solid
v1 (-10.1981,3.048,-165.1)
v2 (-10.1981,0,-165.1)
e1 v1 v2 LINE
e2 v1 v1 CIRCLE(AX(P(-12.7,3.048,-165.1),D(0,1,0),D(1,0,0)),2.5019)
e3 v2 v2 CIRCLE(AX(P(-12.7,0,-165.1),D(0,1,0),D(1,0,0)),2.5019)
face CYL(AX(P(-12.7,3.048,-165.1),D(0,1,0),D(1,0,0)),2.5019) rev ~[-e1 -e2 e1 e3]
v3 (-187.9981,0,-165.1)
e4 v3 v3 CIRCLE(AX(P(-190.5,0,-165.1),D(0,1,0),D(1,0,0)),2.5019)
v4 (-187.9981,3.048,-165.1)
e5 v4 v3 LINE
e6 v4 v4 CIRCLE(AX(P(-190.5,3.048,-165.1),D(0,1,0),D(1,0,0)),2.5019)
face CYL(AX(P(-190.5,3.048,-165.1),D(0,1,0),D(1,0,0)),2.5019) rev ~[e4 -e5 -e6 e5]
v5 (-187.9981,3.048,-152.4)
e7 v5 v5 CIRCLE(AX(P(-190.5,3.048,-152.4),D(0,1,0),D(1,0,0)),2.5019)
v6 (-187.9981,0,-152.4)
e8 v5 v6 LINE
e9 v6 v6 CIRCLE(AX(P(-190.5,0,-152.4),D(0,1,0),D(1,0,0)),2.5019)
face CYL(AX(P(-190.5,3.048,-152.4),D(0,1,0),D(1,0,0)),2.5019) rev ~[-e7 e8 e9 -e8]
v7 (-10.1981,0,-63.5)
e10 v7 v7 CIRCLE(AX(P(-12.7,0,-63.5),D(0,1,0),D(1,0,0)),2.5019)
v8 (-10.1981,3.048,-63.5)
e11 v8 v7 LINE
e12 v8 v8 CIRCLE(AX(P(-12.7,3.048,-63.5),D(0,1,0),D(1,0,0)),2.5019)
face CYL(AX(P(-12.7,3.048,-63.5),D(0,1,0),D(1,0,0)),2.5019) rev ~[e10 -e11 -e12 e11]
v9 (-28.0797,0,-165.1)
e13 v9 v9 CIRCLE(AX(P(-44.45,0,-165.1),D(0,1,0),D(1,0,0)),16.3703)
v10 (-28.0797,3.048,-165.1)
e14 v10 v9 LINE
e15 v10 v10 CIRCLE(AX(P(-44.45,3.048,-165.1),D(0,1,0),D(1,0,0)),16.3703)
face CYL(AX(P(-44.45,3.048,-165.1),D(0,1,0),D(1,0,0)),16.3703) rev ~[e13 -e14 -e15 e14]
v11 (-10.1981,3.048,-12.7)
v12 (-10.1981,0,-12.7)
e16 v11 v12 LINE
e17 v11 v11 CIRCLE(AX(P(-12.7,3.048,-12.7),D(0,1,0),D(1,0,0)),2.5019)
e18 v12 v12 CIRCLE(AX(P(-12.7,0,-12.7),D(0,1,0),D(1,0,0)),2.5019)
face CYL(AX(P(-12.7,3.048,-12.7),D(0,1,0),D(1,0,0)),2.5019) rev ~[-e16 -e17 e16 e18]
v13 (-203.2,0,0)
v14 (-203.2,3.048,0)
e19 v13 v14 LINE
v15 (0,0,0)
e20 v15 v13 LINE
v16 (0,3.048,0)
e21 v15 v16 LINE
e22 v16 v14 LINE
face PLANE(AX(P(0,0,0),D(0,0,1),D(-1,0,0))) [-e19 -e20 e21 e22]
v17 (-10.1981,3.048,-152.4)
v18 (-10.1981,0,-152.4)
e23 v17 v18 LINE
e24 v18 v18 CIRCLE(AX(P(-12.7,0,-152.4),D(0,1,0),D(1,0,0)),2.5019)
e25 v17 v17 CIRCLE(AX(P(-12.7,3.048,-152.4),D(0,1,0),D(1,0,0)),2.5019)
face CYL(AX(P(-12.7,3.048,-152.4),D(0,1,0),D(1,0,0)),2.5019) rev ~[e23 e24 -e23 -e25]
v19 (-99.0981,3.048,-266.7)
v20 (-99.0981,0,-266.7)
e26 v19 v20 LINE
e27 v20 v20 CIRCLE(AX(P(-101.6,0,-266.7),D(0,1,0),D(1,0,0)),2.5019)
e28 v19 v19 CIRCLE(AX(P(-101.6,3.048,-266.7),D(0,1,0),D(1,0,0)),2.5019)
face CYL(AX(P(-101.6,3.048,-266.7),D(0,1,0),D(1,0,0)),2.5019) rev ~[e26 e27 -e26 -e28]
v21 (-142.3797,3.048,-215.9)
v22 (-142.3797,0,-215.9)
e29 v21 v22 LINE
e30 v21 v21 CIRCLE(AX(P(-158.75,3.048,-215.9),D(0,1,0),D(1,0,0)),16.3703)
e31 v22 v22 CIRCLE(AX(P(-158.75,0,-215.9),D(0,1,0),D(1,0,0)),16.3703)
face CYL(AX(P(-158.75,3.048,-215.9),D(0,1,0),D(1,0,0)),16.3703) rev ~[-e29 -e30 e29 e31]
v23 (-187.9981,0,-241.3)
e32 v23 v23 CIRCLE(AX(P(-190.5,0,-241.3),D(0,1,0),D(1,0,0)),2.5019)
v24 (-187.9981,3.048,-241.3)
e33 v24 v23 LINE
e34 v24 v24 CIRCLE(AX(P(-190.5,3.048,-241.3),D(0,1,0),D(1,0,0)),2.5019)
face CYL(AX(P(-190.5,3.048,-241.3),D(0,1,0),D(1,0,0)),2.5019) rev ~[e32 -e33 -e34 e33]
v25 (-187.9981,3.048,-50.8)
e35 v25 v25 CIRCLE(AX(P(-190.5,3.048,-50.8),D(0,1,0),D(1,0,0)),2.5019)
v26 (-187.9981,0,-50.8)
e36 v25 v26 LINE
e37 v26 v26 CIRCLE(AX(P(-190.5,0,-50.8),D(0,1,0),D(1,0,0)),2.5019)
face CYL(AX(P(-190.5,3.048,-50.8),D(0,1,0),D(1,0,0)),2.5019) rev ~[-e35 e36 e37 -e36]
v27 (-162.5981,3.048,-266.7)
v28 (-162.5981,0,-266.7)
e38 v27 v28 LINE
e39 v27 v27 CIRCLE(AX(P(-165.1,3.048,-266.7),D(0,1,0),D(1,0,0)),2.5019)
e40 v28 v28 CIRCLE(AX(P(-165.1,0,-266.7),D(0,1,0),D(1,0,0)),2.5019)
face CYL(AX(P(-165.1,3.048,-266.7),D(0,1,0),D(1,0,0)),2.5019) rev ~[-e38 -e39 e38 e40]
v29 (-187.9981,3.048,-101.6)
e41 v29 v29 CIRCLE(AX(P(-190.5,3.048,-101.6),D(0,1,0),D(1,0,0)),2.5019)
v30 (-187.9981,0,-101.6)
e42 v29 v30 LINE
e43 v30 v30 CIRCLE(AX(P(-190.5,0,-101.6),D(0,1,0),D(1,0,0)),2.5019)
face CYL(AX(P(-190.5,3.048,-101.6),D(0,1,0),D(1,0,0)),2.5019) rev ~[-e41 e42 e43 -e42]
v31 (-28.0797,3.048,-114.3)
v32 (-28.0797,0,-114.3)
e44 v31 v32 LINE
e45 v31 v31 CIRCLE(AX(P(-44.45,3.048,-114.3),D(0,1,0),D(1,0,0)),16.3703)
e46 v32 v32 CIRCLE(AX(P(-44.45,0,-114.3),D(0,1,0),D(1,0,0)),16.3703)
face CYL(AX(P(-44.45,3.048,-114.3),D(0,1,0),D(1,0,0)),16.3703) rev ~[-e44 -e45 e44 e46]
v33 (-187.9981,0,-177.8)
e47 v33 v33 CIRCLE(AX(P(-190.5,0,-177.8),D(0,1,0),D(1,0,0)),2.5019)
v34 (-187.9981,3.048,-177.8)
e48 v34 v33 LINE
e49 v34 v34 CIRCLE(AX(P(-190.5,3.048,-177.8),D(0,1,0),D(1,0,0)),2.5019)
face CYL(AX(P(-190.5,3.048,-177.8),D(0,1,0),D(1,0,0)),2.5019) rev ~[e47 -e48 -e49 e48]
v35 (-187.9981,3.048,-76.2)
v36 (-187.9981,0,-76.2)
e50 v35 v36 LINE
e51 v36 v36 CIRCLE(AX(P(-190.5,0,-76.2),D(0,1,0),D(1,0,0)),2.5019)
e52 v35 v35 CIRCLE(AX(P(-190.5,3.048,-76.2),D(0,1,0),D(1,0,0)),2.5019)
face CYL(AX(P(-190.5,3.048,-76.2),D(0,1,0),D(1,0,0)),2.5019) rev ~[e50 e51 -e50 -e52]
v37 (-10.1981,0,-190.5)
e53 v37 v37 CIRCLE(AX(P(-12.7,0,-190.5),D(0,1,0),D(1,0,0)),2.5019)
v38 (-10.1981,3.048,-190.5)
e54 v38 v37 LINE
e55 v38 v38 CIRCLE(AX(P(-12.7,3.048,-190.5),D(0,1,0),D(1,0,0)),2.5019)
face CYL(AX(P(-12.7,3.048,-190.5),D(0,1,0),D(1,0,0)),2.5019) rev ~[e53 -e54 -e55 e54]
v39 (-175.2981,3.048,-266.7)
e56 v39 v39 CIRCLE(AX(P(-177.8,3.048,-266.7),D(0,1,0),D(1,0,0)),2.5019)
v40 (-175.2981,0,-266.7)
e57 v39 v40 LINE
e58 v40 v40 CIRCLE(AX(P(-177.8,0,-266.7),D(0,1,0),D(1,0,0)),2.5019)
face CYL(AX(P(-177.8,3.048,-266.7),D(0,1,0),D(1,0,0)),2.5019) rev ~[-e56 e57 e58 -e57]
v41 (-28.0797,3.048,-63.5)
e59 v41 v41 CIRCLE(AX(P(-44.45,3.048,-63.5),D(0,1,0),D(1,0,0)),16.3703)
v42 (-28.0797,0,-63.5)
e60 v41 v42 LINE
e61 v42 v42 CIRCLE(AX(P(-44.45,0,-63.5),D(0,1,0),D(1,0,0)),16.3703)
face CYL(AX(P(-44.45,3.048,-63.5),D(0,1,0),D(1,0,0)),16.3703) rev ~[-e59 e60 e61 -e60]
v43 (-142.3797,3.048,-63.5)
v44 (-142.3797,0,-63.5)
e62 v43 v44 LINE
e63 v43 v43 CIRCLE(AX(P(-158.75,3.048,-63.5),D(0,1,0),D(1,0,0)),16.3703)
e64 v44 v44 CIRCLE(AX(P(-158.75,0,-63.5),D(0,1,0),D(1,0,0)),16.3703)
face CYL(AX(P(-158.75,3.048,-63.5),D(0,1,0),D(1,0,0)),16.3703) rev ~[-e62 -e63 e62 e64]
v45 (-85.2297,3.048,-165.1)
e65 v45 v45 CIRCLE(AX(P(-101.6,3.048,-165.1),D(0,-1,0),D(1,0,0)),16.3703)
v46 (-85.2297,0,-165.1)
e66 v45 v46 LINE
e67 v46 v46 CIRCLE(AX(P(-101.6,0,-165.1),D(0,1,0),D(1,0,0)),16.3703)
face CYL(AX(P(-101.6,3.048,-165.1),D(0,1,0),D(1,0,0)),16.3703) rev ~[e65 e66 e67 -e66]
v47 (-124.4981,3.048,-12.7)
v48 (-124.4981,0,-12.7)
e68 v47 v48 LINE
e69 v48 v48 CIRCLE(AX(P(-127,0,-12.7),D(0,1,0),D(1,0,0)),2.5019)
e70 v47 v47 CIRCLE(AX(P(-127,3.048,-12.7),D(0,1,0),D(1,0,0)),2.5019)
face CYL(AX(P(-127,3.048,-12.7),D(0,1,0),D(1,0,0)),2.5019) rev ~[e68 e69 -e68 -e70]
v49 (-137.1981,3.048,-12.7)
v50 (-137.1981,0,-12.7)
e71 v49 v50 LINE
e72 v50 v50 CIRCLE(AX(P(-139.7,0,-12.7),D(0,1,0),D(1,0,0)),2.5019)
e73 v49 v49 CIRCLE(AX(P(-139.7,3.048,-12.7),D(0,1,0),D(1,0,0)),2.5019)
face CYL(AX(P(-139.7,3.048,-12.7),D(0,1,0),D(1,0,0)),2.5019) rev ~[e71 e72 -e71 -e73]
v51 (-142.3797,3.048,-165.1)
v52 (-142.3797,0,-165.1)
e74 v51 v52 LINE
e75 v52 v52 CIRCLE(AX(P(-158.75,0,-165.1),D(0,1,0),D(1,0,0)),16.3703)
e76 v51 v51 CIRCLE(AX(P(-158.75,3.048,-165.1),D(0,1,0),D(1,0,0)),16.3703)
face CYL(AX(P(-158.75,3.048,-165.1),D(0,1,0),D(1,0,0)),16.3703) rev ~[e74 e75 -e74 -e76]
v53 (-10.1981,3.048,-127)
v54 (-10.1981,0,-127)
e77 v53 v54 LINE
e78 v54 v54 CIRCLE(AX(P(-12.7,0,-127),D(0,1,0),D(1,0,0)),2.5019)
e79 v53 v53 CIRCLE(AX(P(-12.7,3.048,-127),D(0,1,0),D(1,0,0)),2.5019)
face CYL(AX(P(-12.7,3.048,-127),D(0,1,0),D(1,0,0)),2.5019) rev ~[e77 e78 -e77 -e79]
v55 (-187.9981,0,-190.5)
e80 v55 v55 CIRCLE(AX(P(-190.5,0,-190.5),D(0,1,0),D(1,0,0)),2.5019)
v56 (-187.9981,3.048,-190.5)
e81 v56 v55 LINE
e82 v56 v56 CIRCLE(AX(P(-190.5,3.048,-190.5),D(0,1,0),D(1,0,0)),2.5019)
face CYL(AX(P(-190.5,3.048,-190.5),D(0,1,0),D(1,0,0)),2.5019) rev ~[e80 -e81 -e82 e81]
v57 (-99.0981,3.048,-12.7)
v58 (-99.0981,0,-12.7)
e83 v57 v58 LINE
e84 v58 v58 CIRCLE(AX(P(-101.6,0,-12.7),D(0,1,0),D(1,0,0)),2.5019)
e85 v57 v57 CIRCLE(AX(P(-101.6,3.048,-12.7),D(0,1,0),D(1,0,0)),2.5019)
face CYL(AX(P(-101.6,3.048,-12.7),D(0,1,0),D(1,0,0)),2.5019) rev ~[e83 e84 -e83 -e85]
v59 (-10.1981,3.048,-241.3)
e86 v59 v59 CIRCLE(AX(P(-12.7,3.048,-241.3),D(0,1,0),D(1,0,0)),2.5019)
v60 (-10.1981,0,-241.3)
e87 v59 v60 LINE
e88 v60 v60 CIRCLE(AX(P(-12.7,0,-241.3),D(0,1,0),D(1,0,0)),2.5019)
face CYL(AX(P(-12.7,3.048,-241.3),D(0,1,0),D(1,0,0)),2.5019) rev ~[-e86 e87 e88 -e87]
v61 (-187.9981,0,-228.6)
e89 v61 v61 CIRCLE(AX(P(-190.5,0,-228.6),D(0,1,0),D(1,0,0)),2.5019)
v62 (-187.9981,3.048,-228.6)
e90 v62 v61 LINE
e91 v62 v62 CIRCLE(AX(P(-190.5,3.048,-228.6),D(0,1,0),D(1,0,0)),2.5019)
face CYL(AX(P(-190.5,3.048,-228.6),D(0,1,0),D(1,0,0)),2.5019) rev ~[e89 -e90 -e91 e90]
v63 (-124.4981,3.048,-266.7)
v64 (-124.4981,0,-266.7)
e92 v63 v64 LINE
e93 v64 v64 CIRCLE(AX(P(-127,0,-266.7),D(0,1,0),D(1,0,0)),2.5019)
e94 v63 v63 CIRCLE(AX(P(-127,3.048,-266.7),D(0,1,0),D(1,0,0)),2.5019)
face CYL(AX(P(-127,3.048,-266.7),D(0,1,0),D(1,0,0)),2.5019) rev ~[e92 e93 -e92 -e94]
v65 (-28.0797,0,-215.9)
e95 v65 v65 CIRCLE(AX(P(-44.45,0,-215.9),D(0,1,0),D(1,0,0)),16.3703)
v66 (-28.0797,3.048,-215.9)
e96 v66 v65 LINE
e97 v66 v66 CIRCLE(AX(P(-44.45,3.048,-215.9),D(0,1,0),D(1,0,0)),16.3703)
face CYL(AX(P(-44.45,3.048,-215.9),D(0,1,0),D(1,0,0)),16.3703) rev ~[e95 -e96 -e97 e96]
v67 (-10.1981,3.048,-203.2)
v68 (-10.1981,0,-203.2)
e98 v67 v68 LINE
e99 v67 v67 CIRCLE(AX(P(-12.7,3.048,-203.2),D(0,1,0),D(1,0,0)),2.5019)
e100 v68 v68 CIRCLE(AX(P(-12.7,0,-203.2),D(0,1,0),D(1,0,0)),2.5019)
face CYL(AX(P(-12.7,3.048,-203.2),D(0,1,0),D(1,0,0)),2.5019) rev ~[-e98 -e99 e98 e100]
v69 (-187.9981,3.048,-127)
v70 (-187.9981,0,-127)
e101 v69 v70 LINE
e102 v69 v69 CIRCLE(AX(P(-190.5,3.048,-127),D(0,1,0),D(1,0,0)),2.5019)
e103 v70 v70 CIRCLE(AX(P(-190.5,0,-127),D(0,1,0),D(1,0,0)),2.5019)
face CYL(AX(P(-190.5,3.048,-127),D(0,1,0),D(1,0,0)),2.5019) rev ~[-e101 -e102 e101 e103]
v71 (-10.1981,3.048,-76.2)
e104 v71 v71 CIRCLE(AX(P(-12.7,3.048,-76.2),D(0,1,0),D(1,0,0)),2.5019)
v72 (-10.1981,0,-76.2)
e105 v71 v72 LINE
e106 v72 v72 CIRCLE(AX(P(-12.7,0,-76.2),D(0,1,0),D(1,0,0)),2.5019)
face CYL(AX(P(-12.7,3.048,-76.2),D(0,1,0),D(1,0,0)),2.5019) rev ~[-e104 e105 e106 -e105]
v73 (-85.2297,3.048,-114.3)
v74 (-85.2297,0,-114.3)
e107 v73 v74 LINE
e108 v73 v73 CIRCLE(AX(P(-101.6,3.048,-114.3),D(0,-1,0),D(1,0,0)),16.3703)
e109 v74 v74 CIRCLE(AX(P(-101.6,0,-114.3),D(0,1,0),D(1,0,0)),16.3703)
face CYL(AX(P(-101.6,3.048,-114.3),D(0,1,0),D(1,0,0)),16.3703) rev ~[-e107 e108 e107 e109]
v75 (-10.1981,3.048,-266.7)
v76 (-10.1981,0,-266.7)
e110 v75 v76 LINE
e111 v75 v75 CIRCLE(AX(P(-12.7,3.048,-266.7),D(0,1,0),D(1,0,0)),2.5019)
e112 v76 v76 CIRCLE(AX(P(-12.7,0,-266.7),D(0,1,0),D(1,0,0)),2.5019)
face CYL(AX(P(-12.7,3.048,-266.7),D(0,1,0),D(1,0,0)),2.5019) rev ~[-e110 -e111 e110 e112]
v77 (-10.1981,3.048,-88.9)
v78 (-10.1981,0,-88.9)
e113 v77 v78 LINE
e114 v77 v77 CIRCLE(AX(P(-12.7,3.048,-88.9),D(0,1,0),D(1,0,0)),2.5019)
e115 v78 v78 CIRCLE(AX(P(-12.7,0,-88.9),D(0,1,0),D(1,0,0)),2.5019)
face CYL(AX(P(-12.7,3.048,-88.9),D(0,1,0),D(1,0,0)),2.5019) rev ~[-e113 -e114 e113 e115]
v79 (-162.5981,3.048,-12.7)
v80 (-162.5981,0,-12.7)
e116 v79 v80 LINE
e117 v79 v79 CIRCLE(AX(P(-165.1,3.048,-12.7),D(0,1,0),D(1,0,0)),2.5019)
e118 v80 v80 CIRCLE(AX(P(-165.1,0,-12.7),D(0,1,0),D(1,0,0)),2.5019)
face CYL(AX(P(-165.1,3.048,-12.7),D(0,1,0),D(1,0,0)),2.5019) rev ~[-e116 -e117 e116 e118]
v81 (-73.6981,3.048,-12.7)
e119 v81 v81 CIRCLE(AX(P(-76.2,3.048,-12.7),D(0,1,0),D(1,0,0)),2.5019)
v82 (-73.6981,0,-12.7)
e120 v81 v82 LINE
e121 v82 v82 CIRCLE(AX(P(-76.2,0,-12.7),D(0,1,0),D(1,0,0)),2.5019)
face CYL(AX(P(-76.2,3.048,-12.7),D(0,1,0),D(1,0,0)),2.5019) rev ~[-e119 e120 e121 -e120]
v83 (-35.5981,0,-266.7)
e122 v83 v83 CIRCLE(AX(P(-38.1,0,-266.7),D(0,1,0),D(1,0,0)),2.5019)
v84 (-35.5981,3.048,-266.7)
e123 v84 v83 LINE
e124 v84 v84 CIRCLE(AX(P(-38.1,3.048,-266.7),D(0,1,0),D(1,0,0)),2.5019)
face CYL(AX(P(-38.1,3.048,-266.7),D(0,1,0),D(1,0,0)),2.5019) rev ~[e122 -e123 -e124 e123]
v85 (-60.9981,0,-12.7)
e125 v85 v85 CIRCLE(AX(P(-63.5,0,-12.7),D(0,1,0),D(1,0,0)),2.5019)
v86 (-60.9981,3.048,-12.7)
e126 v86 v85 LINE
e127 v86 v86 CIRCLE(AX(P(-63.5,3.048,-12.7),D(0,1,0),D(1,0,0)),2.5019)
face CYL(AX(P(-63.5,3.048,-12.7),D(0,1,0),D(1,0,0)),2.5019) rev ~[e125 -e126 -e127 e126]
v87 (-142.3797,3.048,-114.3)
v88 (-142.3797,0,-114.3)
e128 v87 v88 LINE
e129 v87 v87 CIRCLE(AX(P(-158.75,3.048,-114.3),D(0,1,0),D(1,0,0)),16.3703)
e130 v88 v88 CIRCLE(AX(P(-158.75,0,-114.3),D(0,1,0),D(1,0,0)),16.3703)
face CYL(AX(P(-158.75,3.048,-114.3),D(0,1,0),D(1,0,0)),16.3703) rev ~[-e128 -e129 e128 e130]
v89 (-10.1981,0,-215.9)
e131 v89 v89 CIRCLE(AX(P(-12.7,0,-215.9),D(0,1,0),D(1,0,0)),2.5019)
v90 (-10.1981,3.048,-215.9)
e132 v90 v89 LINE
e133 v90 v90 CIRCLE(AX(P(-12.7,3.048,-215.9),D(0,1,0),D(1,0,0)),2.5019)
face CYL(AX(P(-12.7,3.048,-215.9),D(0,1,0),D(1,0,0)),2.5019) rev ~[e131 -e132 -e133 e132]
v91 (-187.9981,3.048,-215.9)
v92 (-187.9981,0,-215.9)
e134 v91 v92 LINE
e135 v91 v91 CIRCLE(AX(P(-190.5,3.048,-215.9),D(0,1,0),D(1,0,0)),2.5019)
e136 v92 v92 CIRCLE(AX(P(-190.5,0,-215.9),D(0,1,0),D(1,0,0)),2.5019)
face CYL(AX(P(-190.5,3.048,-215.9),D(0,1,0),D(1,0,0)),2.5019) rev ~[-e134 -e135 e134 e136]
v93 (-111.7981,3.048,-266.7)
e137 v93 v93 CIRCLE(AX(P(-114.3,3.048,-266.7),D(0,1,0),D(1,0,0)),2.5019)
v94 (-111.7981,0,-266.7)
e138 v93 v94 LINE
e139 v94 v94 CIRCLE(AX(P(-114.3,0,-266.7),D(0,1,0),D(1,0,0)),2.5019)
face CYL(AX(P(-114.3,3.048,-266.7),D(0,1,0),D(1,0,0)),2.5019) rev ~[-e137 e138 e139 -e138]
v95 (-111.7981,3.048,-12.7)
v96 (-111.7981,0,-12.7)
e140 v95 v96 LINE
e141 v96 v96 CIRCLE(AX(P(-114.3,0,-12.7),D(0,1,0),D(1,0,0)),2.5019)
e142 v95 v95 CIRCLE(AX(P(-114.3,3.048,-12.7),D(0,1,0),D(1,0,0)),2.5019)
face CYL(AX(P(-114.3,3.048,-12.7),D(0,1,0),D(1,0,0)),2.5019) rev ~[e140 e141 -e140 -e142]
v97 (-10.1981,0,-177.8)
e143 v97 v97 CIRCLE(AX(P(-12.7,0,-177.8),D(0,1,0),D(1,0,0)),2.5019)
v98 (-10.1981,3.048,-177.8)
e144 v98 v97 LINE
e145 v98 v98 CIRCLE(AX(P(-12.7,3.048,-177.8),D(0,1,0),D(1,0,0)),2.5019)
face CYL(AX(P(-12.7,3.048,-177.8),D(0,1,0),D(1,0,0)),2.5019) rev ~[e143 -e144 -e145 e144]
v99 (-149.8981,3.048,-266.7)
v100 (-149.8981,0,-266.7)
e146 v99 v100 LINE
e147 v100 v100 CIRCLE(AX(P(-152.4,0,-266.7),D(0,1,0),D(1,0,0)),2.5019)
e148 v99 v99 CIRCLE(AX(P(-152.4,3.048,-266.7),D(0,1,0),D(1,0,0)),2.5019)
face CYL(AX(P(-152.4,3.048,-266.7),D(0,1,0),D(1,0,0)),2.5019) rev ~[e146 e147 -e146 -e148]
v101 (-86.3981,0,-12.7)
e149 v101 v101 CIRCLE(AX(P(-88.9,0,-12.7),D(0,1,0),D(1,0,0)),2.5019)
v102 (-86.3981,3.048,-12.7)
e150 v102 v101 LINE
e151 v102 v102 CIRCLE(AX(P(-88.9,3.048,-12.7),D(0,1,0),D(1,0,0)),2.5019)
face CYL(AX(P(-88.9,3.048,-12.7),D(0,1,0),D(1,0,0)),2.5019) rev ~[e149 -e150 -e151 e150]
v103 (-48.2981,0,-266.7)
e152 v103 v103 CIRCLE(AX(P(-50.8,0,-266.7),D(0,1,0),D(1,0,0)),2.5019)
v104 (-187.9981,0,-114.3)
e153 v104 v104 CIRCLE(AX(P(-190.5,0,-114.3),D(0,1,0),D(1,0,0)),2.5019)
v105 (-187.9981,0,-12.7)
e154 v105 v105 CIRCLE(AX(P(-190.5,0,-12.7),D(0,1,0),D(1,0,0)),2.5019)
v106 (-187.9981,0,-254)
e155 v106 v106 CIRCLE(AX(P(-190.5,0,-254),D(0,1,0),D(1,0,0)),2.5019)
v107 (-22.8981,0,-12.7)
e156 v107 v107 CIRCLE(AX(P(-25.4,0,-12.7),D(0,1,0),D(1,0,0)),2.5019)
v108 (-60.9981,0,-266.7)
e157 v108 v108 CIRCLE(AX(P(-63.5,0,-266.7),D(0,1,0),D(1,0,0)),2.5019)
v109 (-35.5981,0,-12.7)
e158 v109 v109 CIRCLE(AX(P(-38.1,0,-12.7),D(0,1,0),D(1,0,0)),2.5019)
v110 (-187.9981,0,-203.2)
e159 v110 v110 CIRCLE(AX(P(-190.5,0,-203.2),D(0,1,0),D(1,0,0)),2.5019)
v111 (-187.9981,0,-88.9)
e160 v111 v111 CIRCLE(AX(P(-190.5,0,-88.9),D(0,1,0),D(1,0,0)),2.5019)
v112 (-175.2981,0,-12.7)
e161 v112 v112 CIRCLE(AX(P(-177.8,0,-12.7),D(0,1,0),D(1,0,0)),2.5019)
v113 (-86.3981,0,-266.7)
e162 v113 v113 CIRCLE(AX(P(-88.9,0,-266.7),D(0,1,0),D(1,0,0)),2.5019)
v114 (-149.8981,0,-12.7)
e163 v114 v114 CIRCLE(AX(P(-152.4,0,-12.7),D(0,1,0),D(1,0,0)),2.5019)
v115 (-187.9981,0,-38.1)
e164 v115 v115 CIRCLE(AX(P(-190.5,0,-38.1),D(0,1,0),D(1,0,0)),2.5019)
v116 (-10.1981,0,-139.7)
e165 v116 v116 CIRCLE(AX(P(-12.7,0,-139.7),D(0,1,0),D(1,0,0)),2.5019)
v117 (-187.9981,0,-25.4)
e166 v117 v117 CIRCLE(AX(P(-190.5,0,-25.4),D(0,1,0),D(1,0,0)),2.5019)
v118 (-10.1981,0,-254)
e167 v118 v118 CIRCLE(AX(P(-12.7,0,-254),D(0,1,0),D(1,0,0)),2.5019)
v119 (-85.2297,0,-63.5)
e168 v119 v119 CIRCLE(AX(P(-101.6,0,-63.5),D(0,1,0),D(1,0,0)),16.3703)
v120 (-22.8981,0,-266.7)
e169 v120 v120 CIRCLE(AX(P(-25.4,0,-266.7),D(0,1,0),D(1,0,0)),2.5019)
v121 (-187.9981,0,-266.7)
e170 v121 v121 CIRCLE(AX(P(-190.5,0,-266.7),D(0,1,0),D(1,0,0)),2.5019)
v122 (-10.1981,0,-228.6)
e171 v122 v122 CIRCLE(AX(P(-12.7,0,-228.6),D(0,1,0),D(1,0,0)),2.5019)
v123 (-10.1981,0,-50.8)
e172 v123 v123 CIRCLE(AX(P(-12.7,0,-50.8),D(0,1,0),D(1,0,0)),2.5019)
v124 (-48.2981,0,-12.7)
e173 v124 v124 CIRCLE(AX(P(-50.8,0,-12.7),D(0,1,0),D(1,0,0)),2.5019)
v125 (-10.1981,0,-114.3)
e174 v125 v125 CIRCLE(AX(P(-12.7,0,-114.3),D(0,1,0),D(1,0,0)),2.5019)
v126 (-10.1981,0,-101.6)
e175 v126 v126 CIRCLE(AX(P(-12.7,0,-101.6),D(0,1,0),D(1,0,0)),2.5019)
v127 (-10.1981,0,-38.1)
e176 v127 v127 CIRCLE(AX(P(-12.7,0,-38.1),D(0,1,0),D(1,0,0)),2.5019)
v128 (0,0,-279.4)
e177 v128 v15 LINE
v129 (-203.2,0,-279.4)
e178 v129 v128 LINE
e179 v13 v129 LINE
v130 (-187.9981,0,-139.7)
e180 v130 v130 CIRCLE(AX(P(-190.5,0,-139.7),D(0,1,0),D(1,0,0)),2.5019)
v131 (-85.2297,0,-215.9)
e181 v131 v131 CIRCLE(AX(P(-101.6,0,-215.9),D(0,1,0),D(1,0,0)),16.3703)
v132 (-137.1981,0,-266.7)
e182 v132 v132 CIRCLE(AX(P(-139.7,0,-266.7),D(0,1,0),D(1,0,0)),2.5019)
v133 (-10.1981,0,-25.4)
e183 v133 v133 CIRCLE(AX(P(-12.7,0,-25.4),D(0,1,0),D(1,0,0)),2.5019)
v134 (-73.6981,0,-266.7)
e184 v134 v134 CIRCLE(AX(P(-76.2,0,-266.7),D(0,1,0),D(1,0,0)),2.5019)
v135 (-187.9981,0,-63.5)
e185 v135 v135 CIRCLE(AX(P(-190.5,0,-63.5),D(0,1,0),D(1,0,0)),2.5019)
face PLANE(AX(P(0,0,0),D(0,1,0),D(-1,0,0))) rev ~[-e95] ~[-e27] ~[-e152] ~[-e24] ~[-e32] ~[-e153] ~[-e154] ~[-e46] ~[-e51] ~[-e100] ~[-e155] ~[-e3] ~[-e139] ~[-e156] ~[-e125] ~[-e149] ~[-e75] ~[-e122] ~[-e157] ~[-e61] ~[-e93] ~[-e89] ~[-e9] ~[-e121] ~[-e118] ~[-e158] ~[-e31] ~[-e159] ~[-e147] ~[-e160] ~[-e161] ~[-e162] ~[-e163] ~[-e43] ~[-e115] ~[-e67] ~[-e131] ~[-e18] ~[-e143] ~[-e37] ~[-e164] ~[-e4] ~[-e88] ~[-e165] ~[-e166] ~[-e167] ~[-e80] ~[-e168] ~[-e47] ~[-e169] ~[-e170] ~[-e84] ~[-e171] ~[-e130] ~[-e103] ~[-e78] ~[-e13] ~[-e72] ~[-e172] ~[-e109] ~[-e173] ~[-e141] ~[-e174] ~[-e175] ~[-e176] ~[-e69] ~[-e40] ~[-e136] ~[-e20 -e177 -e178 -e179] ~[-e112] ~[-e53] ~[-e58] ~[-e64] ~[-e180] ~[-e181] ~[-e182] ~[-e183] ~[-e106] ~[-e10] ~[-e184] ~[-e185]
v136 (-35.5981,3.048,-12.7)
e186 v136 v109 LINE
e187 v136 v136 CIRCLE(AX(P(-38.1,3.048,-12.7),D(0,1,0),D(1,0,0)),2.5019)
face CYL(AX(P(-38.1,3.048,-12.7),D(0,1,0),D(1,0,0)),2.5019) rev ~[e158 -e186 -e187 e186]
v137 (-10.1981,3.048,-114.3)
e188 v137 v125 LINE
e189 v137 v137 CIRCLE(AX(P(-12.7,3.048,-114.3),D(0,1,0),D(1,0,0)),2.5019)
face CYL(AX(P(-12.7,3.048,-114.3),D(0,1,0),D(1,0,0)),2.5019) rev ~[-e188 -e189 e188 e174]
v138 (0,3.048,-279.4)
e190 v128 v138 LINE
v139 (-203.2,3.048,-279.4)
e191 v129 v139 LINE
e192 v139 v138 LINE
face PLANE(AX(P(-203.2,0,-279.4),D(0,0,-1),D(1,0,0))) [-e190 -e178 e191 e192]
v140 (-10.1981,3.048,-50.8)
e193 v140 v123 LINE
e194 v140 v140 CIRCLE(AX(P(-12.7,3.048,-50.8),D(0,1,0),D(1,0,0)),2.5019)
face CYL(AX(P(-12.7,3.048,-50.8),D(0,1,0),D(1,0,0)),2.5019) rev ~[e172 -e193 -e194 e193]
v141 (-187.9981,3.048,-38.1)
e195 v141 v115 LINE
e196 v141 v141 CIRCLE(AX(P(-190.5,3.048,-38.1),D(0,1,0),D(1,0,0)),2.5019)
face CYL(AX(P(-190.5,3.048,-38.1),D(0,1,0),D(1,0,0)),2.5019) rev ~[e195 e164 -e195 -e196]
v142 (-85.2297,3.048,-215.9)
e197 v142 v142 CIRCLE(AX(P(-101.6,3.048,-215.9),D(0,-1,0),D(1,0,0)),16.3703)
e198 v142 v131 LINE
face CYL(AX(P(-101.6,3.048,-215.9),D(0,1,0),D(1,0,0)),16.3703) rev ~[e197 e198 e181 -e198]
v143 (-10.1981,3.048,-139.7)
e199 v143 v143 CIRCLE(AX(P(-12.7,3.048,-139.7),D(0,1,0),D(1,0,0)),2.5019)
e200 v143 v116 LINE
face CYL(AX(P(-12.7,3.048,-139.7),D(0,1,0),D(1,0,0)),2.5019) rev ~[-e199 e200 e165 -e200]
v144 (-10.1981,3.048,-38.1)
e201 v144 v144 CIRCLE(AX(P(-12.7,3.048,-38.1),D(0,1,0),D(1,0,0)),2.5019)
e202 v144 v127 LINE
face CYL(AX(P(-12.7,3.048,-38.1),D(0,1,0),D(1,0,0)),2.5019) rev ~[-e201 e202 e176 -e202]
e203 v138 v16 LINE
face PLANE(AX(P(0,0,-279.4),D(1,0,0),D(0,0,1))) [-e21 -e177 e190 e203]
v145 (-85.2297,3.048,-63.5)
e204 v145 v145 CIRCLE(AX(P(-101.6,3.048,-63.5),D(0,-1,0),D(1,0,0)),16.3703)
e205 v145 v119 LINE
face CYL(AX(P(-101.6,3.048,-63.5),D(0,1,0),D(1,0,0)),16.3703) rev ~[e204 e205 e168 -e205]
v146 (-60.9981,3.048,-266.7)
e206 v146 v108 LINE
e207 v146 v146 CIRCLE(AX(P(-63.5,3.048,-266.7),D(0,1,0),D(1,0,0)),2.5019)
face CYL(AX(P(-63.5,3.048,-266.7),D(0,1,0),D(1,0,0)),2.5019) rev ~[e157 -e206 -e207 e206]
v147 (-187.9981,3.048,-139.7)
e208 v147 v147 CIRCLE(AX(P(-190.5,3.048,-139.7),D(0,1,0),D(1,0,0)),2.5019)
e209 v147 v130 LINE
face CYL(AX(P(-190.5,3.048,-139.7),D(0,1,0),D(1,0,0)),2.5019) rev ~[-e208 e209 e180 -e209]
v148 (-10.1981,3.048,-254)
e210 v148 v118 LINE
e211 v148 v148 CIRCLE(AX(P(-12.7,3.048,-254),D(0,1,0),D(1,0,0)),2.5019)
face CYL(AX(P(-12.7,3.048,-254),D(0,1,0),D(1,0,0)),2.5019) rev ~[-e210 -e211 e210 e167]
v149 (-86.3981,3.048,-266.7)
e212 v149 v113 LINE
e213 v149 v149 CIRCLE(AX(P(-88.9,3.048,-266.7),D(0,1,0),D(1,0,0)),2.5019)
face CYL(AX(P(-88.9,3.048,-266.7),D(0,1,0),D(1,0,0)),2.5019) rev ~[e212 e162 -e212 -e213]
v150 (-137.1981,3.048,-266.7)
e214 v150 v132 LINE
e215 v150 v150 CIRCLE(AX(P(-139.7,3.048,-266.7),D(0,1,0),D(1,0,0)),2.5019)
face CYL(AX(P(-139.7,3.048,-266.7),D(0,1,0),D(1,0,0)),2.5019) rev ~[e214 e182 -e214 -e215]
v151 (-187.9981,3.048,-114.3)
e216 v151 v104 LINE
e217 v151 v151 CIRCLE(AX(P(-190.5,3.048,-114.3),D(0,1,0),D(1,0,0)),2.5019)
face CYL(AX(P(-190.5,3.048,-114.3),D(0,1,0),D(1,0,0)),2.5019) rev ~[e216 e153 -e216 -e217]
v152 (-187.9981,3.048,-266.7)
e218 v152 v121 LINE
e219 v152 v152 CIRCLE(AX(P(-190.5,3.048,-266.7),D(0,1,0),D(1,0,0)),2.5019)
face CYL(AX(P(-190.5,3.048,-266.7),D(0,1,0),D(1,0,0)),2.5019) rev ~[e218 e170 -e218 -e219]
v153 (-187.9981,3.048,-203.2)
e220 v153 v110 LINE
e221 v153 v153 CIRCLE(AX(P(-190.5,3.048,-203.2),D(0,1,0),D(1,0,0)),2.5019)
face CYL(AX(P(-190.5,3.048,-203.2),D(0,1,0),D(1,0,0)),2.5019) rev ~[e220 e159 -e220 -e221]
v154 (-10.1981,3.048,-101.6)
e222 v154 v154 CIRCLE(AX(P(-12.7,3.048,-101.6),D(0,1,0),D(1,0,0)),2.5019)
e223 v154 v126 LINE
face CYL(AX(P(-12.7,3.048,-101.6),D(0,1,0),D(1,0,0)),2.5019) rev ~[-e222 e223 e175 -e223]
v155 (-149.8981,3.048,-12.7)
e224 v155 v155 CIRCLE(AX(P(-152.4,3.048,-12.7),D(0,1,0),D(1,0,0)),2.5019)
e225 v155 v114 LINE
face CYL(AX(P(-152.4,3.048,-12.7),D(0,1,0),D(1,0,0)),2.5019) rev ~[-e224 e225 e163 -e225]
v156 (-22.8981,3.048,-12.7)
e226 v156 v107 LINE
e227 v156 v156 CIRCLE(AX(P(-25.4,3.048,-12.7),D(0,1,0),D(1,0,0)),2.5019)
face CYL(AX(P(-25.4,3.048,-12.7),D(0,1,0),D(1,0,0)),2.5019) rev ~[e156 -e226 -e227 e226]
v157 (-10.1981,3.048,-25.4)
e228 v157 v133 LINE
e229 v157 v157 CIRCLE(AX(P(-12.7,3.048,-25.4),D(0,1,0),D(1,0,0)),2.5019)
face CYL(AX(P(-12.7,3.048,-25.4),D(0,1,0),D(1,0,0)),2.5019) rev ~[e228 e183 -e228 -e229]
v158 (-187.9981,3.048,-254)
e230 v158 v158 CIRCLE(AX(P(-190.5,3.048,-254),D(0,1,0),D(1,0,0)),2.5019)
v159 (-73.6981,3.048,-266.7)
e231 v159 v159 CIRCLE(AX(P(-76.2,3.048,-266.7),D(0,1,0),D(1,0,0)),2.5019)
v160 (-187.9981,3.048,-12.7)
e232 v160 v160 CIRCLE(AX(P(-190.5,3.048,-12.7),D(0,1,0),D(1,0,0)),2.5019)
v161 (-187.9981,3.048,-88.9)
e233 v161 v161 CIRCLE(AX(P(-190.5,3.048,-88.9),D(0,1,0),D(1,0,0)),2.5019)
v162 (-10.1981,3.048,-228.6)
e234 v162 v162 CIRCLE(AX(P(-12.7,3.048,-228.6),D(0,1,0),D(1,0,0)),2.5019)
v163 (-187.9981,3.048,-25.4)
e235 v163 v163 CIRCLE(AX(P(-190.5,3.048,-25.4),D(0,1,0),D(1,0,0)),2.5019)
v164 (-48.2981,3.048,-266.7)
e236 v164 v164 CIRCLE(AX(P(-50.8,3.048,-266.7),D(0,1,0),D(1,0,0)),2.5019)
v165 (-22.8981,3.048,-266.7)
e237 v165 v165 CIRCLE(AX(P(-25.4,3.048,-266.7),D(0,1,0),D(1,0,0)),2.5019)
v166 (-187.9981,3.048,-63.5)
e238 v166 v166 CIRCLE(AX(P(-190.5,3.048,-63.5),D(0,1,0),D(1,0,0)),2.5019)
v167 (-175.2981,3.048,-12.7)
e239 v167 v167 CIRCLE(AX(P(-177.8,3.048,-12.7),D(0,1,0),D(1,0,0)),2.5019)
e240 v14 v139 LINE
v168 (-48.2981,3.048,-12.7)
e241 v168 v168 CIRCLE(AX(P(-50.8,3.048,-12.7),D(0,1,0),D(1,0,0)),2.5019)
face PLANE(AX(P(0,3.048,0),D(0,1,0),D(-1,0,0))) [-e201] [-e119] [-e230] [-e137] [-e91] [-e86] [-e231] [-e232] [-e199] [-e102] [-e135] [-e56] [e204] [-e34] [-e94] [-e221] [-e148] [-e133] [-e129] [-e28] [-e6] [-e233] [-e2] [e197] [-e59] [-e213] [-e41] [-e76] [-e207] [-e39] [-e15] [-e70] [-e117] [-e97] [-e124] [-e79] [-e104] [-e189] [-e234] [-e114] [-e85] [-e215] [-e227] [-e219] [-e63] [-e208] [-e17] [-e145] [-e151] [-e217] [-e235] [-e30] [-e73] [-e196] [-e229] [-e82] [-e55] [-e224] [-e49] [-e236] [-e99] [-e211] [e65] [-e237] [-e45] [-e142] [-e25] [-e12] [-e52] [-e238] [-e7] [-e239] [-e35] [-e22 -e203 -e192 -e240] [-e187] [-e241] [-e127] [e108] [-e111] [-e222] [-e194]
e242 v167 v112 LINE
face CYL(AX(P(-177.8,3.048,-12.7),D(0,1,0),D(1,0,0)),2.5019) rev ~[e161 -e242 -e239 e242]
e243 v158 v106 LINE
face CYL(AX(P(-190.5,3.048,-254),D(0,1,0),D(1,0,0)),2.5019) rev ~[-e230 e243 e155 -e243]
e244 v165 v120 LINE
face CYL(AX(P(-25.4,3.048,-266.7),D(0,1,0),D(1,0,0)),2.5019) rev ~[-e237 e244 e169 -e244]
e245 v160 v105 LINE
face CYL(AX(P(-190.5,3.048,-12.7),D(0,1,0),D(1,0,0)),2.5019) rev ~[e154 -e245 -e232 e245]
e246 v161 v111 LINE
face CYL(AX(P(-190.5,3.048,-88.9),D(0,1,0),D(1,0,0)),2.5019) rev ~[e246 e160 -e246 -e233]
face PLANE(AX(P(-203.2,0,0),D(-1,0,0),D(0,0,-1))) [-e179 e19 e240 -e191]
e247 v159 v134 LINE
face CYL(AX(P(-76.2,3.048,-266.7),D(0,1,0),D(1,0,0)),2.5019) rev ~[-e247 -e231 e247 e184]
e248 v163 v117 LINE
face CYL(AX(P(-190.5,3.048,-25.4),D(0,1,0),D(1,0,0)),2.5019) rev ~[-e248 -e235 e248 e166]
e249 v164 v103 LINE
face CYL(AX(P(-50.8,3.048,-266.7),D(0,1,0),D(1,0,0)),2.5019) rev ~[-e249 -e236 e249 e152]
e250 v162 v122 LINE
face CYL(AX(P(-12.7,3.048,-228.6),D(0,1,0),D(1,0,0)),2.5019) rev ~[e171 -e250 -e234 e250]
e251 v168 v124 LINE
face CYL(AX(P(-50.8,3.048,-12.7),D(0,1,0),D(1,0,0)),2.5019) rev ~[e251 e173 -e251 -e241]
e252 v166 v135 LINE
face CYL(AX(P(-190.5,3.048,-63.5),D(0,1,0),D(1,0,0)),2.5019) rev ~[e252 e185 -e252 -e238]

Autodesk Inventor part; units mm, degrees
ref_plane "YZ Plane" through (0, 0, 0) normal (1, 0, 0) x (0, 1, 0)
ref_plane "XZ Plane" through (0, 0, 0) normal (0, 1, 0) x (-1, 0, 0)
ref_plane "XY Plane" through (0, 0, 0) normal (0, 0, 1) x (1, 0, 0)
sketch "Sketch1" plane through (0, 0, 0) normal (0, 1, 0) x (-1, 0, 0)
  line L0 (0, 0) -> (203.2, 0)
  line L1 (203.2, 0) -> (203.2, -279.4)
  line L2 (203.2, -279.4) -> (0, -279.4)
  line L3 (0, -279.4) -> (0, 0)
  dimension "d0" = 203.2
  dimension "d1" = 279.4
extrude "Plate1" add sketch "Sketch1" along normal blind 3.048
sketch "Sketch2" plane through (0, 3.048, 0) normal (0, 1, 0) x (1, 0, 0)
  circle A0 centre (-12.7, 12.7) radius 2.5019
  line L0 (0, 0) -> (-203.2, 0) projected
  line L1 (0, 279.4) -> (0, 0) projected
  circle A1 centre (-25.4, 12.7) radius 2.5019
  circle A2 centre (-38.1, 12.7) radius 2.5019
  circle A3 centre (-50.8, 12.7) radius 2.5019
  circle A4 centre (-63.5, 12.7) radius 2.5019
  circle A5 centre (-76.2, 12.7) radius 2.5019
  circle A6 centre (-88.9, 12.7) radius 2.5019
  circle A7 centre (-101.6, 12.7) radius 2.5019
  circle A8 centre (-114.3, 12.7) radius 2.5019
  circle A9 centre (-127, 12.7) radius 2.5019
  circle A10 centre (-139.7, 12.7) radius 2.5019
  circle A11 centre (-152.4, 12.7) radius 2.5019
  circle A12 centre (-165.1, 12.7) radius 2.5019
  circle A13 centre (-177.8, 12.7) radius 2.5019
  circle A14 centre (-190.5, 12.7) radius 2.5019
  line L2 (-203.2, 0) -> (-203.2, 279.4) projected
  circle A15 centre (-190.5, 25.4) radius 2.5019
  circle A16 centre (-190.5, 38.1) radius 2.5019
  circle A17 centre (-190.5, 50.8) radius 2.5019
  circle A18 centre (-190.5, 63.5) radius 2.5019
  circle A19 centre (-190.5, 76.2) radius 2.5019
  circle A20 centre (-190.5, 88.9) radius 2.5019
  circle A21 centre (-190.5, 101.6) radius 2.5019
  circle A22 centre (-190.5, 114.3) radius 2.5019
  circle A23 centre (-190.5, 127) radius 2.5019
  circle A24 centre (-190.5, 139.7) radius 2.5019
  circle A25 centre (-190.5, 152.4) radius 2.5019
  circle A26 centre (-190.5, 165.1) radius 2.5019
  circle A27 centre (-190.5, 177.8) radius 2.5019
  circle A28 centre (-190.5, 190.5) radius 2.5019
  circle A29 centre (-190.5, 203.2) radius 2.5019
  circle A30 centre (-190.5, 215.9) radius 2.5019
  circle A31 centre (-190.5, 228.6) radius 2.5019
  circle A32 centre (-190.5, 241.3) radius 2.5019
  circle A33 centre (-190.5, 254) radius 2.5019
  circle A34 centre (-190.5, 266.7) radius 2.5019
  line L3 (-203.2, 279.4) -> (0, 279.4) projected
  circle A35 centre (-177.8, 266.7) radius 2.5019
  circle A36 centre (-165.1, 266.7) radius 2.5019
  circle A37 centre (-152.4, 266.7) radius 2.5019
  circle A38 centre (-139.7, 266.7) radius 2.5019
  circle A39 centre (-127, 266.7) radius 2.5019
  circle A40 centre (-114.3, 266.7) radius 2.5019
  circle A41 centre (-101.6, 266.7) radius 2.5019
  circle A42 centre (-88.9, 266.7) radius 2.5019
  circle A43 centre (-76.2, 266.7) radius 2.5019
  circle A44 centre (-63.5, 266.7) radius 2.5019
  circle A45 centre (-50.8, 266.7) radius 2.5019
  circle A46 centre (-38.1, 266.7) radius 2.5019
  circle A47 centre (-25.4, 266.7) radius 2.5019
  circle A48 centre (-12.7, 266.7) radius 2.5019
  circle A49 centre (-12.7, 254) radius 2.5019
  circle A50 centre (-12.7, 241.3) radius 2.5019
  circle A51 centre (-12.7, 228.6) radius 2.5019
  circle A52 centre (-12.7, 215.9) radius 2.5019
  circle A53 centre (-12.7, 203.2) radius 2.5019
  circle A54 centre (-12.7, 190.5) radius 2.5019
  circle A55 centre (-12.7, 177.8) radius 2.5019
  circle A56 centre (-12.7, 165.1) radius 2.5019
  circle A57 centre (-12.7, 152.4) radius 2.5019
  circle A58 centre (-12.7, 139.7) radius 2.5019
  circle A59 centre (-12.7, 127) radius 2.5019
  circle A60 centre (-12.7, 114.3) radius 2.5019
  circle A61 centre (-12.7, 101.6) radius 2.5019
  circle A62 centre (-12.7, 88.9) radius 2.5019
  circle A63 centre (-12.7, 76.2) radius 2.5019
  circle A64 centre (-12.7, 63.5) radius 2.5019
  circle A65 centre (-12.7, 50.8) radius 2.5019
  circle A66 centre (-12.7, 38.1) radius 2.5019
  circle A67 centre (-12.7, 25.4) radius 2.5019
  dimension "d3" = 5.0038
  dimension "d4" = 12.7
  dimension "d5" = 12.7
  dimension "d8" = 12.7
  dimension "d13" = 5.0038
  dimension "d15" = 12.7
  dimension "d16" = 12.7
  dimension "d19" = 12.7
  dimension "d24" = 5.0038
  dimension "d25" = 12.7
  dimension "d26" = 12.7
  dimension "d29" = 12.7
  dimension "d34" = 5.0038
  dimension "d35" = 12.7
  dimension "d36" = 12.7
  dimension "d39" = 12.7
extrude "Extrusion1" cut sketch "Sketch2" against normal blind 25.4 contours A0 | A1 | A2 | A3 | A4 | A5 | A6 | A7 | A8 | A9 | A10 | A11 | A12 | A13 | A14 | A15 | A16 | A17 | A18 | A19 | A20 | A21 | A22 | A23 | A24 | A25 | A26 | A27 | A28 | A29 | A30 | A31 | A32 | A33 | A34 | A35 | A36 | A37 | A38 | A39 | A40 | A41 | A42 | A43 | A44 | A45 | A46 | A47 | A48 | A49 | A50 | A51 | A52 | A53 | A54 | A55 | A56 | A57 | A58 | A59 | A60 | A61 | A62 | A63 | A64 | A65 | A66 | A67
sketch "Sketch3" plane through (0, 3.048, 0) normal (0, 1, 0) x (1, 0, 0)
  circle A0 centre (-190.5, 25.4) radius 2.5019 projected
  circle A1 centre (-177.8, 12.7) radius 2.5019 projected
  circle A2 centre (-12.7, 25.4) radius 2.5019 projected
  circle A3 centre (-25.4, 12.7) radius 2.5019 projected
  circle A4 centre (-25.4, 266.7) radius 2.5019 projected
  circle A5 centre (-12.7, 254) radius 2.5019 projected
  circle A6 centre (-177.8, 266.7) radius 2.5019 projected
  circle A7 centre (-190.5, 254) radius 2.5019 projected
  line L0 (-203.2, 0) -> (-203.2, 279.4) projected
  line L1 (-203.2, 139.7) -> (0, 139.7)
  line L2 (0, 279.4) -> (0, 0) projected
  line L3 (0, 0) -> (-203.2, 0) projected
  line L4 (-101.6, 0) -> (-101.6, 279.4)
  line L5 (-203.2, 279.4) -> (0, 279.4) projected
  line L6 (-203.2, 25.4) -> (0, 25.4)
  line L7 (-203.2, 254) -> (0, 254)
  line L8 (-177.8, 0) -> (-177.8, 279.4)
  line L9 (-25.4, 0) -> (-25.4, 279.4)
  circle A8 centre (-101.6, 63.5) radius 16.3703
  circle A9 centre (-101.6, 114.3) radius 16.3703
  circle A10 centre (-101.6, 165.1) radius 16.3703
  circle A11 centre (-101.6, 215.9) radius 16.3703
  circle A12 centre (-158.75, 63.5) radius 16.3703
  circle A13 centre (-158.75, 114.3) radius 16.3703
  circle A14 centre (-158.75, 165.1) radius 16.3703
  circle A15 centre (-158.75, 215.9) radius 16.3703
  circle A16 centre (-44.45, 63.5) radius 16.3703
  circle A17 centre (-44.45, 114.3) radius 16.3703
  circle A18 centre (-44.45, 165.1) radius 16.3703
  circle A19 centre (-44.45, 215.9) radius 16.3703
  dimension "d48" = 25.4
  dimension "d49" = 25.4
  dimension "d50" = 25.4
  dimension "d51" = 25.4
  dimension "d52" = 32.7406
  dimension "d55" = 50.8
  dimension "d60" = 127
  dimension "d62" = 127
  dimension "d63" = 32.7406
  dimension "d64" = 57.15
  dimension "d65" = 88.9
  dimension "d66" = 127
  dimension "d69" = 50.8
  dimension "d74" = 32.7406
  dimension "d75" = 57.15
  dimension "d76" = 127
  dimension "d79" = 50.8
extrude "Extrusion2" cut sketch "Sketch3" against normal blind 25.4 contours A8 L4 | L4 A8 | A9 L4 | L4 A9 | A10 L4 | L4 A10 | A11 L4 | L4 A11 | A12 | A13 | A14 | A15 | A16 | A17 | A18 | A19
equation "\"d2\" = Thickness"
equation "\"BendRadius\" = Thickness"
equation "\"BendReliefWidth\" = Thickness"
equation "\"BendReliefDepth\" = 0.5 * Thickness"
equation "\"CornerReliefSize\" = 4 * Thickness"
equation "\"MinimumRemnant\" = 2 * Thickness"
equation "\"TransitionRadius\" = BendRadius"
equation "\"JacobiRadiusSize\" = BendRadius"
equation "\"GapSize\" = Thickness"
equation "\"Thickness\" = 3.048"
properties part number "Top Plate"
